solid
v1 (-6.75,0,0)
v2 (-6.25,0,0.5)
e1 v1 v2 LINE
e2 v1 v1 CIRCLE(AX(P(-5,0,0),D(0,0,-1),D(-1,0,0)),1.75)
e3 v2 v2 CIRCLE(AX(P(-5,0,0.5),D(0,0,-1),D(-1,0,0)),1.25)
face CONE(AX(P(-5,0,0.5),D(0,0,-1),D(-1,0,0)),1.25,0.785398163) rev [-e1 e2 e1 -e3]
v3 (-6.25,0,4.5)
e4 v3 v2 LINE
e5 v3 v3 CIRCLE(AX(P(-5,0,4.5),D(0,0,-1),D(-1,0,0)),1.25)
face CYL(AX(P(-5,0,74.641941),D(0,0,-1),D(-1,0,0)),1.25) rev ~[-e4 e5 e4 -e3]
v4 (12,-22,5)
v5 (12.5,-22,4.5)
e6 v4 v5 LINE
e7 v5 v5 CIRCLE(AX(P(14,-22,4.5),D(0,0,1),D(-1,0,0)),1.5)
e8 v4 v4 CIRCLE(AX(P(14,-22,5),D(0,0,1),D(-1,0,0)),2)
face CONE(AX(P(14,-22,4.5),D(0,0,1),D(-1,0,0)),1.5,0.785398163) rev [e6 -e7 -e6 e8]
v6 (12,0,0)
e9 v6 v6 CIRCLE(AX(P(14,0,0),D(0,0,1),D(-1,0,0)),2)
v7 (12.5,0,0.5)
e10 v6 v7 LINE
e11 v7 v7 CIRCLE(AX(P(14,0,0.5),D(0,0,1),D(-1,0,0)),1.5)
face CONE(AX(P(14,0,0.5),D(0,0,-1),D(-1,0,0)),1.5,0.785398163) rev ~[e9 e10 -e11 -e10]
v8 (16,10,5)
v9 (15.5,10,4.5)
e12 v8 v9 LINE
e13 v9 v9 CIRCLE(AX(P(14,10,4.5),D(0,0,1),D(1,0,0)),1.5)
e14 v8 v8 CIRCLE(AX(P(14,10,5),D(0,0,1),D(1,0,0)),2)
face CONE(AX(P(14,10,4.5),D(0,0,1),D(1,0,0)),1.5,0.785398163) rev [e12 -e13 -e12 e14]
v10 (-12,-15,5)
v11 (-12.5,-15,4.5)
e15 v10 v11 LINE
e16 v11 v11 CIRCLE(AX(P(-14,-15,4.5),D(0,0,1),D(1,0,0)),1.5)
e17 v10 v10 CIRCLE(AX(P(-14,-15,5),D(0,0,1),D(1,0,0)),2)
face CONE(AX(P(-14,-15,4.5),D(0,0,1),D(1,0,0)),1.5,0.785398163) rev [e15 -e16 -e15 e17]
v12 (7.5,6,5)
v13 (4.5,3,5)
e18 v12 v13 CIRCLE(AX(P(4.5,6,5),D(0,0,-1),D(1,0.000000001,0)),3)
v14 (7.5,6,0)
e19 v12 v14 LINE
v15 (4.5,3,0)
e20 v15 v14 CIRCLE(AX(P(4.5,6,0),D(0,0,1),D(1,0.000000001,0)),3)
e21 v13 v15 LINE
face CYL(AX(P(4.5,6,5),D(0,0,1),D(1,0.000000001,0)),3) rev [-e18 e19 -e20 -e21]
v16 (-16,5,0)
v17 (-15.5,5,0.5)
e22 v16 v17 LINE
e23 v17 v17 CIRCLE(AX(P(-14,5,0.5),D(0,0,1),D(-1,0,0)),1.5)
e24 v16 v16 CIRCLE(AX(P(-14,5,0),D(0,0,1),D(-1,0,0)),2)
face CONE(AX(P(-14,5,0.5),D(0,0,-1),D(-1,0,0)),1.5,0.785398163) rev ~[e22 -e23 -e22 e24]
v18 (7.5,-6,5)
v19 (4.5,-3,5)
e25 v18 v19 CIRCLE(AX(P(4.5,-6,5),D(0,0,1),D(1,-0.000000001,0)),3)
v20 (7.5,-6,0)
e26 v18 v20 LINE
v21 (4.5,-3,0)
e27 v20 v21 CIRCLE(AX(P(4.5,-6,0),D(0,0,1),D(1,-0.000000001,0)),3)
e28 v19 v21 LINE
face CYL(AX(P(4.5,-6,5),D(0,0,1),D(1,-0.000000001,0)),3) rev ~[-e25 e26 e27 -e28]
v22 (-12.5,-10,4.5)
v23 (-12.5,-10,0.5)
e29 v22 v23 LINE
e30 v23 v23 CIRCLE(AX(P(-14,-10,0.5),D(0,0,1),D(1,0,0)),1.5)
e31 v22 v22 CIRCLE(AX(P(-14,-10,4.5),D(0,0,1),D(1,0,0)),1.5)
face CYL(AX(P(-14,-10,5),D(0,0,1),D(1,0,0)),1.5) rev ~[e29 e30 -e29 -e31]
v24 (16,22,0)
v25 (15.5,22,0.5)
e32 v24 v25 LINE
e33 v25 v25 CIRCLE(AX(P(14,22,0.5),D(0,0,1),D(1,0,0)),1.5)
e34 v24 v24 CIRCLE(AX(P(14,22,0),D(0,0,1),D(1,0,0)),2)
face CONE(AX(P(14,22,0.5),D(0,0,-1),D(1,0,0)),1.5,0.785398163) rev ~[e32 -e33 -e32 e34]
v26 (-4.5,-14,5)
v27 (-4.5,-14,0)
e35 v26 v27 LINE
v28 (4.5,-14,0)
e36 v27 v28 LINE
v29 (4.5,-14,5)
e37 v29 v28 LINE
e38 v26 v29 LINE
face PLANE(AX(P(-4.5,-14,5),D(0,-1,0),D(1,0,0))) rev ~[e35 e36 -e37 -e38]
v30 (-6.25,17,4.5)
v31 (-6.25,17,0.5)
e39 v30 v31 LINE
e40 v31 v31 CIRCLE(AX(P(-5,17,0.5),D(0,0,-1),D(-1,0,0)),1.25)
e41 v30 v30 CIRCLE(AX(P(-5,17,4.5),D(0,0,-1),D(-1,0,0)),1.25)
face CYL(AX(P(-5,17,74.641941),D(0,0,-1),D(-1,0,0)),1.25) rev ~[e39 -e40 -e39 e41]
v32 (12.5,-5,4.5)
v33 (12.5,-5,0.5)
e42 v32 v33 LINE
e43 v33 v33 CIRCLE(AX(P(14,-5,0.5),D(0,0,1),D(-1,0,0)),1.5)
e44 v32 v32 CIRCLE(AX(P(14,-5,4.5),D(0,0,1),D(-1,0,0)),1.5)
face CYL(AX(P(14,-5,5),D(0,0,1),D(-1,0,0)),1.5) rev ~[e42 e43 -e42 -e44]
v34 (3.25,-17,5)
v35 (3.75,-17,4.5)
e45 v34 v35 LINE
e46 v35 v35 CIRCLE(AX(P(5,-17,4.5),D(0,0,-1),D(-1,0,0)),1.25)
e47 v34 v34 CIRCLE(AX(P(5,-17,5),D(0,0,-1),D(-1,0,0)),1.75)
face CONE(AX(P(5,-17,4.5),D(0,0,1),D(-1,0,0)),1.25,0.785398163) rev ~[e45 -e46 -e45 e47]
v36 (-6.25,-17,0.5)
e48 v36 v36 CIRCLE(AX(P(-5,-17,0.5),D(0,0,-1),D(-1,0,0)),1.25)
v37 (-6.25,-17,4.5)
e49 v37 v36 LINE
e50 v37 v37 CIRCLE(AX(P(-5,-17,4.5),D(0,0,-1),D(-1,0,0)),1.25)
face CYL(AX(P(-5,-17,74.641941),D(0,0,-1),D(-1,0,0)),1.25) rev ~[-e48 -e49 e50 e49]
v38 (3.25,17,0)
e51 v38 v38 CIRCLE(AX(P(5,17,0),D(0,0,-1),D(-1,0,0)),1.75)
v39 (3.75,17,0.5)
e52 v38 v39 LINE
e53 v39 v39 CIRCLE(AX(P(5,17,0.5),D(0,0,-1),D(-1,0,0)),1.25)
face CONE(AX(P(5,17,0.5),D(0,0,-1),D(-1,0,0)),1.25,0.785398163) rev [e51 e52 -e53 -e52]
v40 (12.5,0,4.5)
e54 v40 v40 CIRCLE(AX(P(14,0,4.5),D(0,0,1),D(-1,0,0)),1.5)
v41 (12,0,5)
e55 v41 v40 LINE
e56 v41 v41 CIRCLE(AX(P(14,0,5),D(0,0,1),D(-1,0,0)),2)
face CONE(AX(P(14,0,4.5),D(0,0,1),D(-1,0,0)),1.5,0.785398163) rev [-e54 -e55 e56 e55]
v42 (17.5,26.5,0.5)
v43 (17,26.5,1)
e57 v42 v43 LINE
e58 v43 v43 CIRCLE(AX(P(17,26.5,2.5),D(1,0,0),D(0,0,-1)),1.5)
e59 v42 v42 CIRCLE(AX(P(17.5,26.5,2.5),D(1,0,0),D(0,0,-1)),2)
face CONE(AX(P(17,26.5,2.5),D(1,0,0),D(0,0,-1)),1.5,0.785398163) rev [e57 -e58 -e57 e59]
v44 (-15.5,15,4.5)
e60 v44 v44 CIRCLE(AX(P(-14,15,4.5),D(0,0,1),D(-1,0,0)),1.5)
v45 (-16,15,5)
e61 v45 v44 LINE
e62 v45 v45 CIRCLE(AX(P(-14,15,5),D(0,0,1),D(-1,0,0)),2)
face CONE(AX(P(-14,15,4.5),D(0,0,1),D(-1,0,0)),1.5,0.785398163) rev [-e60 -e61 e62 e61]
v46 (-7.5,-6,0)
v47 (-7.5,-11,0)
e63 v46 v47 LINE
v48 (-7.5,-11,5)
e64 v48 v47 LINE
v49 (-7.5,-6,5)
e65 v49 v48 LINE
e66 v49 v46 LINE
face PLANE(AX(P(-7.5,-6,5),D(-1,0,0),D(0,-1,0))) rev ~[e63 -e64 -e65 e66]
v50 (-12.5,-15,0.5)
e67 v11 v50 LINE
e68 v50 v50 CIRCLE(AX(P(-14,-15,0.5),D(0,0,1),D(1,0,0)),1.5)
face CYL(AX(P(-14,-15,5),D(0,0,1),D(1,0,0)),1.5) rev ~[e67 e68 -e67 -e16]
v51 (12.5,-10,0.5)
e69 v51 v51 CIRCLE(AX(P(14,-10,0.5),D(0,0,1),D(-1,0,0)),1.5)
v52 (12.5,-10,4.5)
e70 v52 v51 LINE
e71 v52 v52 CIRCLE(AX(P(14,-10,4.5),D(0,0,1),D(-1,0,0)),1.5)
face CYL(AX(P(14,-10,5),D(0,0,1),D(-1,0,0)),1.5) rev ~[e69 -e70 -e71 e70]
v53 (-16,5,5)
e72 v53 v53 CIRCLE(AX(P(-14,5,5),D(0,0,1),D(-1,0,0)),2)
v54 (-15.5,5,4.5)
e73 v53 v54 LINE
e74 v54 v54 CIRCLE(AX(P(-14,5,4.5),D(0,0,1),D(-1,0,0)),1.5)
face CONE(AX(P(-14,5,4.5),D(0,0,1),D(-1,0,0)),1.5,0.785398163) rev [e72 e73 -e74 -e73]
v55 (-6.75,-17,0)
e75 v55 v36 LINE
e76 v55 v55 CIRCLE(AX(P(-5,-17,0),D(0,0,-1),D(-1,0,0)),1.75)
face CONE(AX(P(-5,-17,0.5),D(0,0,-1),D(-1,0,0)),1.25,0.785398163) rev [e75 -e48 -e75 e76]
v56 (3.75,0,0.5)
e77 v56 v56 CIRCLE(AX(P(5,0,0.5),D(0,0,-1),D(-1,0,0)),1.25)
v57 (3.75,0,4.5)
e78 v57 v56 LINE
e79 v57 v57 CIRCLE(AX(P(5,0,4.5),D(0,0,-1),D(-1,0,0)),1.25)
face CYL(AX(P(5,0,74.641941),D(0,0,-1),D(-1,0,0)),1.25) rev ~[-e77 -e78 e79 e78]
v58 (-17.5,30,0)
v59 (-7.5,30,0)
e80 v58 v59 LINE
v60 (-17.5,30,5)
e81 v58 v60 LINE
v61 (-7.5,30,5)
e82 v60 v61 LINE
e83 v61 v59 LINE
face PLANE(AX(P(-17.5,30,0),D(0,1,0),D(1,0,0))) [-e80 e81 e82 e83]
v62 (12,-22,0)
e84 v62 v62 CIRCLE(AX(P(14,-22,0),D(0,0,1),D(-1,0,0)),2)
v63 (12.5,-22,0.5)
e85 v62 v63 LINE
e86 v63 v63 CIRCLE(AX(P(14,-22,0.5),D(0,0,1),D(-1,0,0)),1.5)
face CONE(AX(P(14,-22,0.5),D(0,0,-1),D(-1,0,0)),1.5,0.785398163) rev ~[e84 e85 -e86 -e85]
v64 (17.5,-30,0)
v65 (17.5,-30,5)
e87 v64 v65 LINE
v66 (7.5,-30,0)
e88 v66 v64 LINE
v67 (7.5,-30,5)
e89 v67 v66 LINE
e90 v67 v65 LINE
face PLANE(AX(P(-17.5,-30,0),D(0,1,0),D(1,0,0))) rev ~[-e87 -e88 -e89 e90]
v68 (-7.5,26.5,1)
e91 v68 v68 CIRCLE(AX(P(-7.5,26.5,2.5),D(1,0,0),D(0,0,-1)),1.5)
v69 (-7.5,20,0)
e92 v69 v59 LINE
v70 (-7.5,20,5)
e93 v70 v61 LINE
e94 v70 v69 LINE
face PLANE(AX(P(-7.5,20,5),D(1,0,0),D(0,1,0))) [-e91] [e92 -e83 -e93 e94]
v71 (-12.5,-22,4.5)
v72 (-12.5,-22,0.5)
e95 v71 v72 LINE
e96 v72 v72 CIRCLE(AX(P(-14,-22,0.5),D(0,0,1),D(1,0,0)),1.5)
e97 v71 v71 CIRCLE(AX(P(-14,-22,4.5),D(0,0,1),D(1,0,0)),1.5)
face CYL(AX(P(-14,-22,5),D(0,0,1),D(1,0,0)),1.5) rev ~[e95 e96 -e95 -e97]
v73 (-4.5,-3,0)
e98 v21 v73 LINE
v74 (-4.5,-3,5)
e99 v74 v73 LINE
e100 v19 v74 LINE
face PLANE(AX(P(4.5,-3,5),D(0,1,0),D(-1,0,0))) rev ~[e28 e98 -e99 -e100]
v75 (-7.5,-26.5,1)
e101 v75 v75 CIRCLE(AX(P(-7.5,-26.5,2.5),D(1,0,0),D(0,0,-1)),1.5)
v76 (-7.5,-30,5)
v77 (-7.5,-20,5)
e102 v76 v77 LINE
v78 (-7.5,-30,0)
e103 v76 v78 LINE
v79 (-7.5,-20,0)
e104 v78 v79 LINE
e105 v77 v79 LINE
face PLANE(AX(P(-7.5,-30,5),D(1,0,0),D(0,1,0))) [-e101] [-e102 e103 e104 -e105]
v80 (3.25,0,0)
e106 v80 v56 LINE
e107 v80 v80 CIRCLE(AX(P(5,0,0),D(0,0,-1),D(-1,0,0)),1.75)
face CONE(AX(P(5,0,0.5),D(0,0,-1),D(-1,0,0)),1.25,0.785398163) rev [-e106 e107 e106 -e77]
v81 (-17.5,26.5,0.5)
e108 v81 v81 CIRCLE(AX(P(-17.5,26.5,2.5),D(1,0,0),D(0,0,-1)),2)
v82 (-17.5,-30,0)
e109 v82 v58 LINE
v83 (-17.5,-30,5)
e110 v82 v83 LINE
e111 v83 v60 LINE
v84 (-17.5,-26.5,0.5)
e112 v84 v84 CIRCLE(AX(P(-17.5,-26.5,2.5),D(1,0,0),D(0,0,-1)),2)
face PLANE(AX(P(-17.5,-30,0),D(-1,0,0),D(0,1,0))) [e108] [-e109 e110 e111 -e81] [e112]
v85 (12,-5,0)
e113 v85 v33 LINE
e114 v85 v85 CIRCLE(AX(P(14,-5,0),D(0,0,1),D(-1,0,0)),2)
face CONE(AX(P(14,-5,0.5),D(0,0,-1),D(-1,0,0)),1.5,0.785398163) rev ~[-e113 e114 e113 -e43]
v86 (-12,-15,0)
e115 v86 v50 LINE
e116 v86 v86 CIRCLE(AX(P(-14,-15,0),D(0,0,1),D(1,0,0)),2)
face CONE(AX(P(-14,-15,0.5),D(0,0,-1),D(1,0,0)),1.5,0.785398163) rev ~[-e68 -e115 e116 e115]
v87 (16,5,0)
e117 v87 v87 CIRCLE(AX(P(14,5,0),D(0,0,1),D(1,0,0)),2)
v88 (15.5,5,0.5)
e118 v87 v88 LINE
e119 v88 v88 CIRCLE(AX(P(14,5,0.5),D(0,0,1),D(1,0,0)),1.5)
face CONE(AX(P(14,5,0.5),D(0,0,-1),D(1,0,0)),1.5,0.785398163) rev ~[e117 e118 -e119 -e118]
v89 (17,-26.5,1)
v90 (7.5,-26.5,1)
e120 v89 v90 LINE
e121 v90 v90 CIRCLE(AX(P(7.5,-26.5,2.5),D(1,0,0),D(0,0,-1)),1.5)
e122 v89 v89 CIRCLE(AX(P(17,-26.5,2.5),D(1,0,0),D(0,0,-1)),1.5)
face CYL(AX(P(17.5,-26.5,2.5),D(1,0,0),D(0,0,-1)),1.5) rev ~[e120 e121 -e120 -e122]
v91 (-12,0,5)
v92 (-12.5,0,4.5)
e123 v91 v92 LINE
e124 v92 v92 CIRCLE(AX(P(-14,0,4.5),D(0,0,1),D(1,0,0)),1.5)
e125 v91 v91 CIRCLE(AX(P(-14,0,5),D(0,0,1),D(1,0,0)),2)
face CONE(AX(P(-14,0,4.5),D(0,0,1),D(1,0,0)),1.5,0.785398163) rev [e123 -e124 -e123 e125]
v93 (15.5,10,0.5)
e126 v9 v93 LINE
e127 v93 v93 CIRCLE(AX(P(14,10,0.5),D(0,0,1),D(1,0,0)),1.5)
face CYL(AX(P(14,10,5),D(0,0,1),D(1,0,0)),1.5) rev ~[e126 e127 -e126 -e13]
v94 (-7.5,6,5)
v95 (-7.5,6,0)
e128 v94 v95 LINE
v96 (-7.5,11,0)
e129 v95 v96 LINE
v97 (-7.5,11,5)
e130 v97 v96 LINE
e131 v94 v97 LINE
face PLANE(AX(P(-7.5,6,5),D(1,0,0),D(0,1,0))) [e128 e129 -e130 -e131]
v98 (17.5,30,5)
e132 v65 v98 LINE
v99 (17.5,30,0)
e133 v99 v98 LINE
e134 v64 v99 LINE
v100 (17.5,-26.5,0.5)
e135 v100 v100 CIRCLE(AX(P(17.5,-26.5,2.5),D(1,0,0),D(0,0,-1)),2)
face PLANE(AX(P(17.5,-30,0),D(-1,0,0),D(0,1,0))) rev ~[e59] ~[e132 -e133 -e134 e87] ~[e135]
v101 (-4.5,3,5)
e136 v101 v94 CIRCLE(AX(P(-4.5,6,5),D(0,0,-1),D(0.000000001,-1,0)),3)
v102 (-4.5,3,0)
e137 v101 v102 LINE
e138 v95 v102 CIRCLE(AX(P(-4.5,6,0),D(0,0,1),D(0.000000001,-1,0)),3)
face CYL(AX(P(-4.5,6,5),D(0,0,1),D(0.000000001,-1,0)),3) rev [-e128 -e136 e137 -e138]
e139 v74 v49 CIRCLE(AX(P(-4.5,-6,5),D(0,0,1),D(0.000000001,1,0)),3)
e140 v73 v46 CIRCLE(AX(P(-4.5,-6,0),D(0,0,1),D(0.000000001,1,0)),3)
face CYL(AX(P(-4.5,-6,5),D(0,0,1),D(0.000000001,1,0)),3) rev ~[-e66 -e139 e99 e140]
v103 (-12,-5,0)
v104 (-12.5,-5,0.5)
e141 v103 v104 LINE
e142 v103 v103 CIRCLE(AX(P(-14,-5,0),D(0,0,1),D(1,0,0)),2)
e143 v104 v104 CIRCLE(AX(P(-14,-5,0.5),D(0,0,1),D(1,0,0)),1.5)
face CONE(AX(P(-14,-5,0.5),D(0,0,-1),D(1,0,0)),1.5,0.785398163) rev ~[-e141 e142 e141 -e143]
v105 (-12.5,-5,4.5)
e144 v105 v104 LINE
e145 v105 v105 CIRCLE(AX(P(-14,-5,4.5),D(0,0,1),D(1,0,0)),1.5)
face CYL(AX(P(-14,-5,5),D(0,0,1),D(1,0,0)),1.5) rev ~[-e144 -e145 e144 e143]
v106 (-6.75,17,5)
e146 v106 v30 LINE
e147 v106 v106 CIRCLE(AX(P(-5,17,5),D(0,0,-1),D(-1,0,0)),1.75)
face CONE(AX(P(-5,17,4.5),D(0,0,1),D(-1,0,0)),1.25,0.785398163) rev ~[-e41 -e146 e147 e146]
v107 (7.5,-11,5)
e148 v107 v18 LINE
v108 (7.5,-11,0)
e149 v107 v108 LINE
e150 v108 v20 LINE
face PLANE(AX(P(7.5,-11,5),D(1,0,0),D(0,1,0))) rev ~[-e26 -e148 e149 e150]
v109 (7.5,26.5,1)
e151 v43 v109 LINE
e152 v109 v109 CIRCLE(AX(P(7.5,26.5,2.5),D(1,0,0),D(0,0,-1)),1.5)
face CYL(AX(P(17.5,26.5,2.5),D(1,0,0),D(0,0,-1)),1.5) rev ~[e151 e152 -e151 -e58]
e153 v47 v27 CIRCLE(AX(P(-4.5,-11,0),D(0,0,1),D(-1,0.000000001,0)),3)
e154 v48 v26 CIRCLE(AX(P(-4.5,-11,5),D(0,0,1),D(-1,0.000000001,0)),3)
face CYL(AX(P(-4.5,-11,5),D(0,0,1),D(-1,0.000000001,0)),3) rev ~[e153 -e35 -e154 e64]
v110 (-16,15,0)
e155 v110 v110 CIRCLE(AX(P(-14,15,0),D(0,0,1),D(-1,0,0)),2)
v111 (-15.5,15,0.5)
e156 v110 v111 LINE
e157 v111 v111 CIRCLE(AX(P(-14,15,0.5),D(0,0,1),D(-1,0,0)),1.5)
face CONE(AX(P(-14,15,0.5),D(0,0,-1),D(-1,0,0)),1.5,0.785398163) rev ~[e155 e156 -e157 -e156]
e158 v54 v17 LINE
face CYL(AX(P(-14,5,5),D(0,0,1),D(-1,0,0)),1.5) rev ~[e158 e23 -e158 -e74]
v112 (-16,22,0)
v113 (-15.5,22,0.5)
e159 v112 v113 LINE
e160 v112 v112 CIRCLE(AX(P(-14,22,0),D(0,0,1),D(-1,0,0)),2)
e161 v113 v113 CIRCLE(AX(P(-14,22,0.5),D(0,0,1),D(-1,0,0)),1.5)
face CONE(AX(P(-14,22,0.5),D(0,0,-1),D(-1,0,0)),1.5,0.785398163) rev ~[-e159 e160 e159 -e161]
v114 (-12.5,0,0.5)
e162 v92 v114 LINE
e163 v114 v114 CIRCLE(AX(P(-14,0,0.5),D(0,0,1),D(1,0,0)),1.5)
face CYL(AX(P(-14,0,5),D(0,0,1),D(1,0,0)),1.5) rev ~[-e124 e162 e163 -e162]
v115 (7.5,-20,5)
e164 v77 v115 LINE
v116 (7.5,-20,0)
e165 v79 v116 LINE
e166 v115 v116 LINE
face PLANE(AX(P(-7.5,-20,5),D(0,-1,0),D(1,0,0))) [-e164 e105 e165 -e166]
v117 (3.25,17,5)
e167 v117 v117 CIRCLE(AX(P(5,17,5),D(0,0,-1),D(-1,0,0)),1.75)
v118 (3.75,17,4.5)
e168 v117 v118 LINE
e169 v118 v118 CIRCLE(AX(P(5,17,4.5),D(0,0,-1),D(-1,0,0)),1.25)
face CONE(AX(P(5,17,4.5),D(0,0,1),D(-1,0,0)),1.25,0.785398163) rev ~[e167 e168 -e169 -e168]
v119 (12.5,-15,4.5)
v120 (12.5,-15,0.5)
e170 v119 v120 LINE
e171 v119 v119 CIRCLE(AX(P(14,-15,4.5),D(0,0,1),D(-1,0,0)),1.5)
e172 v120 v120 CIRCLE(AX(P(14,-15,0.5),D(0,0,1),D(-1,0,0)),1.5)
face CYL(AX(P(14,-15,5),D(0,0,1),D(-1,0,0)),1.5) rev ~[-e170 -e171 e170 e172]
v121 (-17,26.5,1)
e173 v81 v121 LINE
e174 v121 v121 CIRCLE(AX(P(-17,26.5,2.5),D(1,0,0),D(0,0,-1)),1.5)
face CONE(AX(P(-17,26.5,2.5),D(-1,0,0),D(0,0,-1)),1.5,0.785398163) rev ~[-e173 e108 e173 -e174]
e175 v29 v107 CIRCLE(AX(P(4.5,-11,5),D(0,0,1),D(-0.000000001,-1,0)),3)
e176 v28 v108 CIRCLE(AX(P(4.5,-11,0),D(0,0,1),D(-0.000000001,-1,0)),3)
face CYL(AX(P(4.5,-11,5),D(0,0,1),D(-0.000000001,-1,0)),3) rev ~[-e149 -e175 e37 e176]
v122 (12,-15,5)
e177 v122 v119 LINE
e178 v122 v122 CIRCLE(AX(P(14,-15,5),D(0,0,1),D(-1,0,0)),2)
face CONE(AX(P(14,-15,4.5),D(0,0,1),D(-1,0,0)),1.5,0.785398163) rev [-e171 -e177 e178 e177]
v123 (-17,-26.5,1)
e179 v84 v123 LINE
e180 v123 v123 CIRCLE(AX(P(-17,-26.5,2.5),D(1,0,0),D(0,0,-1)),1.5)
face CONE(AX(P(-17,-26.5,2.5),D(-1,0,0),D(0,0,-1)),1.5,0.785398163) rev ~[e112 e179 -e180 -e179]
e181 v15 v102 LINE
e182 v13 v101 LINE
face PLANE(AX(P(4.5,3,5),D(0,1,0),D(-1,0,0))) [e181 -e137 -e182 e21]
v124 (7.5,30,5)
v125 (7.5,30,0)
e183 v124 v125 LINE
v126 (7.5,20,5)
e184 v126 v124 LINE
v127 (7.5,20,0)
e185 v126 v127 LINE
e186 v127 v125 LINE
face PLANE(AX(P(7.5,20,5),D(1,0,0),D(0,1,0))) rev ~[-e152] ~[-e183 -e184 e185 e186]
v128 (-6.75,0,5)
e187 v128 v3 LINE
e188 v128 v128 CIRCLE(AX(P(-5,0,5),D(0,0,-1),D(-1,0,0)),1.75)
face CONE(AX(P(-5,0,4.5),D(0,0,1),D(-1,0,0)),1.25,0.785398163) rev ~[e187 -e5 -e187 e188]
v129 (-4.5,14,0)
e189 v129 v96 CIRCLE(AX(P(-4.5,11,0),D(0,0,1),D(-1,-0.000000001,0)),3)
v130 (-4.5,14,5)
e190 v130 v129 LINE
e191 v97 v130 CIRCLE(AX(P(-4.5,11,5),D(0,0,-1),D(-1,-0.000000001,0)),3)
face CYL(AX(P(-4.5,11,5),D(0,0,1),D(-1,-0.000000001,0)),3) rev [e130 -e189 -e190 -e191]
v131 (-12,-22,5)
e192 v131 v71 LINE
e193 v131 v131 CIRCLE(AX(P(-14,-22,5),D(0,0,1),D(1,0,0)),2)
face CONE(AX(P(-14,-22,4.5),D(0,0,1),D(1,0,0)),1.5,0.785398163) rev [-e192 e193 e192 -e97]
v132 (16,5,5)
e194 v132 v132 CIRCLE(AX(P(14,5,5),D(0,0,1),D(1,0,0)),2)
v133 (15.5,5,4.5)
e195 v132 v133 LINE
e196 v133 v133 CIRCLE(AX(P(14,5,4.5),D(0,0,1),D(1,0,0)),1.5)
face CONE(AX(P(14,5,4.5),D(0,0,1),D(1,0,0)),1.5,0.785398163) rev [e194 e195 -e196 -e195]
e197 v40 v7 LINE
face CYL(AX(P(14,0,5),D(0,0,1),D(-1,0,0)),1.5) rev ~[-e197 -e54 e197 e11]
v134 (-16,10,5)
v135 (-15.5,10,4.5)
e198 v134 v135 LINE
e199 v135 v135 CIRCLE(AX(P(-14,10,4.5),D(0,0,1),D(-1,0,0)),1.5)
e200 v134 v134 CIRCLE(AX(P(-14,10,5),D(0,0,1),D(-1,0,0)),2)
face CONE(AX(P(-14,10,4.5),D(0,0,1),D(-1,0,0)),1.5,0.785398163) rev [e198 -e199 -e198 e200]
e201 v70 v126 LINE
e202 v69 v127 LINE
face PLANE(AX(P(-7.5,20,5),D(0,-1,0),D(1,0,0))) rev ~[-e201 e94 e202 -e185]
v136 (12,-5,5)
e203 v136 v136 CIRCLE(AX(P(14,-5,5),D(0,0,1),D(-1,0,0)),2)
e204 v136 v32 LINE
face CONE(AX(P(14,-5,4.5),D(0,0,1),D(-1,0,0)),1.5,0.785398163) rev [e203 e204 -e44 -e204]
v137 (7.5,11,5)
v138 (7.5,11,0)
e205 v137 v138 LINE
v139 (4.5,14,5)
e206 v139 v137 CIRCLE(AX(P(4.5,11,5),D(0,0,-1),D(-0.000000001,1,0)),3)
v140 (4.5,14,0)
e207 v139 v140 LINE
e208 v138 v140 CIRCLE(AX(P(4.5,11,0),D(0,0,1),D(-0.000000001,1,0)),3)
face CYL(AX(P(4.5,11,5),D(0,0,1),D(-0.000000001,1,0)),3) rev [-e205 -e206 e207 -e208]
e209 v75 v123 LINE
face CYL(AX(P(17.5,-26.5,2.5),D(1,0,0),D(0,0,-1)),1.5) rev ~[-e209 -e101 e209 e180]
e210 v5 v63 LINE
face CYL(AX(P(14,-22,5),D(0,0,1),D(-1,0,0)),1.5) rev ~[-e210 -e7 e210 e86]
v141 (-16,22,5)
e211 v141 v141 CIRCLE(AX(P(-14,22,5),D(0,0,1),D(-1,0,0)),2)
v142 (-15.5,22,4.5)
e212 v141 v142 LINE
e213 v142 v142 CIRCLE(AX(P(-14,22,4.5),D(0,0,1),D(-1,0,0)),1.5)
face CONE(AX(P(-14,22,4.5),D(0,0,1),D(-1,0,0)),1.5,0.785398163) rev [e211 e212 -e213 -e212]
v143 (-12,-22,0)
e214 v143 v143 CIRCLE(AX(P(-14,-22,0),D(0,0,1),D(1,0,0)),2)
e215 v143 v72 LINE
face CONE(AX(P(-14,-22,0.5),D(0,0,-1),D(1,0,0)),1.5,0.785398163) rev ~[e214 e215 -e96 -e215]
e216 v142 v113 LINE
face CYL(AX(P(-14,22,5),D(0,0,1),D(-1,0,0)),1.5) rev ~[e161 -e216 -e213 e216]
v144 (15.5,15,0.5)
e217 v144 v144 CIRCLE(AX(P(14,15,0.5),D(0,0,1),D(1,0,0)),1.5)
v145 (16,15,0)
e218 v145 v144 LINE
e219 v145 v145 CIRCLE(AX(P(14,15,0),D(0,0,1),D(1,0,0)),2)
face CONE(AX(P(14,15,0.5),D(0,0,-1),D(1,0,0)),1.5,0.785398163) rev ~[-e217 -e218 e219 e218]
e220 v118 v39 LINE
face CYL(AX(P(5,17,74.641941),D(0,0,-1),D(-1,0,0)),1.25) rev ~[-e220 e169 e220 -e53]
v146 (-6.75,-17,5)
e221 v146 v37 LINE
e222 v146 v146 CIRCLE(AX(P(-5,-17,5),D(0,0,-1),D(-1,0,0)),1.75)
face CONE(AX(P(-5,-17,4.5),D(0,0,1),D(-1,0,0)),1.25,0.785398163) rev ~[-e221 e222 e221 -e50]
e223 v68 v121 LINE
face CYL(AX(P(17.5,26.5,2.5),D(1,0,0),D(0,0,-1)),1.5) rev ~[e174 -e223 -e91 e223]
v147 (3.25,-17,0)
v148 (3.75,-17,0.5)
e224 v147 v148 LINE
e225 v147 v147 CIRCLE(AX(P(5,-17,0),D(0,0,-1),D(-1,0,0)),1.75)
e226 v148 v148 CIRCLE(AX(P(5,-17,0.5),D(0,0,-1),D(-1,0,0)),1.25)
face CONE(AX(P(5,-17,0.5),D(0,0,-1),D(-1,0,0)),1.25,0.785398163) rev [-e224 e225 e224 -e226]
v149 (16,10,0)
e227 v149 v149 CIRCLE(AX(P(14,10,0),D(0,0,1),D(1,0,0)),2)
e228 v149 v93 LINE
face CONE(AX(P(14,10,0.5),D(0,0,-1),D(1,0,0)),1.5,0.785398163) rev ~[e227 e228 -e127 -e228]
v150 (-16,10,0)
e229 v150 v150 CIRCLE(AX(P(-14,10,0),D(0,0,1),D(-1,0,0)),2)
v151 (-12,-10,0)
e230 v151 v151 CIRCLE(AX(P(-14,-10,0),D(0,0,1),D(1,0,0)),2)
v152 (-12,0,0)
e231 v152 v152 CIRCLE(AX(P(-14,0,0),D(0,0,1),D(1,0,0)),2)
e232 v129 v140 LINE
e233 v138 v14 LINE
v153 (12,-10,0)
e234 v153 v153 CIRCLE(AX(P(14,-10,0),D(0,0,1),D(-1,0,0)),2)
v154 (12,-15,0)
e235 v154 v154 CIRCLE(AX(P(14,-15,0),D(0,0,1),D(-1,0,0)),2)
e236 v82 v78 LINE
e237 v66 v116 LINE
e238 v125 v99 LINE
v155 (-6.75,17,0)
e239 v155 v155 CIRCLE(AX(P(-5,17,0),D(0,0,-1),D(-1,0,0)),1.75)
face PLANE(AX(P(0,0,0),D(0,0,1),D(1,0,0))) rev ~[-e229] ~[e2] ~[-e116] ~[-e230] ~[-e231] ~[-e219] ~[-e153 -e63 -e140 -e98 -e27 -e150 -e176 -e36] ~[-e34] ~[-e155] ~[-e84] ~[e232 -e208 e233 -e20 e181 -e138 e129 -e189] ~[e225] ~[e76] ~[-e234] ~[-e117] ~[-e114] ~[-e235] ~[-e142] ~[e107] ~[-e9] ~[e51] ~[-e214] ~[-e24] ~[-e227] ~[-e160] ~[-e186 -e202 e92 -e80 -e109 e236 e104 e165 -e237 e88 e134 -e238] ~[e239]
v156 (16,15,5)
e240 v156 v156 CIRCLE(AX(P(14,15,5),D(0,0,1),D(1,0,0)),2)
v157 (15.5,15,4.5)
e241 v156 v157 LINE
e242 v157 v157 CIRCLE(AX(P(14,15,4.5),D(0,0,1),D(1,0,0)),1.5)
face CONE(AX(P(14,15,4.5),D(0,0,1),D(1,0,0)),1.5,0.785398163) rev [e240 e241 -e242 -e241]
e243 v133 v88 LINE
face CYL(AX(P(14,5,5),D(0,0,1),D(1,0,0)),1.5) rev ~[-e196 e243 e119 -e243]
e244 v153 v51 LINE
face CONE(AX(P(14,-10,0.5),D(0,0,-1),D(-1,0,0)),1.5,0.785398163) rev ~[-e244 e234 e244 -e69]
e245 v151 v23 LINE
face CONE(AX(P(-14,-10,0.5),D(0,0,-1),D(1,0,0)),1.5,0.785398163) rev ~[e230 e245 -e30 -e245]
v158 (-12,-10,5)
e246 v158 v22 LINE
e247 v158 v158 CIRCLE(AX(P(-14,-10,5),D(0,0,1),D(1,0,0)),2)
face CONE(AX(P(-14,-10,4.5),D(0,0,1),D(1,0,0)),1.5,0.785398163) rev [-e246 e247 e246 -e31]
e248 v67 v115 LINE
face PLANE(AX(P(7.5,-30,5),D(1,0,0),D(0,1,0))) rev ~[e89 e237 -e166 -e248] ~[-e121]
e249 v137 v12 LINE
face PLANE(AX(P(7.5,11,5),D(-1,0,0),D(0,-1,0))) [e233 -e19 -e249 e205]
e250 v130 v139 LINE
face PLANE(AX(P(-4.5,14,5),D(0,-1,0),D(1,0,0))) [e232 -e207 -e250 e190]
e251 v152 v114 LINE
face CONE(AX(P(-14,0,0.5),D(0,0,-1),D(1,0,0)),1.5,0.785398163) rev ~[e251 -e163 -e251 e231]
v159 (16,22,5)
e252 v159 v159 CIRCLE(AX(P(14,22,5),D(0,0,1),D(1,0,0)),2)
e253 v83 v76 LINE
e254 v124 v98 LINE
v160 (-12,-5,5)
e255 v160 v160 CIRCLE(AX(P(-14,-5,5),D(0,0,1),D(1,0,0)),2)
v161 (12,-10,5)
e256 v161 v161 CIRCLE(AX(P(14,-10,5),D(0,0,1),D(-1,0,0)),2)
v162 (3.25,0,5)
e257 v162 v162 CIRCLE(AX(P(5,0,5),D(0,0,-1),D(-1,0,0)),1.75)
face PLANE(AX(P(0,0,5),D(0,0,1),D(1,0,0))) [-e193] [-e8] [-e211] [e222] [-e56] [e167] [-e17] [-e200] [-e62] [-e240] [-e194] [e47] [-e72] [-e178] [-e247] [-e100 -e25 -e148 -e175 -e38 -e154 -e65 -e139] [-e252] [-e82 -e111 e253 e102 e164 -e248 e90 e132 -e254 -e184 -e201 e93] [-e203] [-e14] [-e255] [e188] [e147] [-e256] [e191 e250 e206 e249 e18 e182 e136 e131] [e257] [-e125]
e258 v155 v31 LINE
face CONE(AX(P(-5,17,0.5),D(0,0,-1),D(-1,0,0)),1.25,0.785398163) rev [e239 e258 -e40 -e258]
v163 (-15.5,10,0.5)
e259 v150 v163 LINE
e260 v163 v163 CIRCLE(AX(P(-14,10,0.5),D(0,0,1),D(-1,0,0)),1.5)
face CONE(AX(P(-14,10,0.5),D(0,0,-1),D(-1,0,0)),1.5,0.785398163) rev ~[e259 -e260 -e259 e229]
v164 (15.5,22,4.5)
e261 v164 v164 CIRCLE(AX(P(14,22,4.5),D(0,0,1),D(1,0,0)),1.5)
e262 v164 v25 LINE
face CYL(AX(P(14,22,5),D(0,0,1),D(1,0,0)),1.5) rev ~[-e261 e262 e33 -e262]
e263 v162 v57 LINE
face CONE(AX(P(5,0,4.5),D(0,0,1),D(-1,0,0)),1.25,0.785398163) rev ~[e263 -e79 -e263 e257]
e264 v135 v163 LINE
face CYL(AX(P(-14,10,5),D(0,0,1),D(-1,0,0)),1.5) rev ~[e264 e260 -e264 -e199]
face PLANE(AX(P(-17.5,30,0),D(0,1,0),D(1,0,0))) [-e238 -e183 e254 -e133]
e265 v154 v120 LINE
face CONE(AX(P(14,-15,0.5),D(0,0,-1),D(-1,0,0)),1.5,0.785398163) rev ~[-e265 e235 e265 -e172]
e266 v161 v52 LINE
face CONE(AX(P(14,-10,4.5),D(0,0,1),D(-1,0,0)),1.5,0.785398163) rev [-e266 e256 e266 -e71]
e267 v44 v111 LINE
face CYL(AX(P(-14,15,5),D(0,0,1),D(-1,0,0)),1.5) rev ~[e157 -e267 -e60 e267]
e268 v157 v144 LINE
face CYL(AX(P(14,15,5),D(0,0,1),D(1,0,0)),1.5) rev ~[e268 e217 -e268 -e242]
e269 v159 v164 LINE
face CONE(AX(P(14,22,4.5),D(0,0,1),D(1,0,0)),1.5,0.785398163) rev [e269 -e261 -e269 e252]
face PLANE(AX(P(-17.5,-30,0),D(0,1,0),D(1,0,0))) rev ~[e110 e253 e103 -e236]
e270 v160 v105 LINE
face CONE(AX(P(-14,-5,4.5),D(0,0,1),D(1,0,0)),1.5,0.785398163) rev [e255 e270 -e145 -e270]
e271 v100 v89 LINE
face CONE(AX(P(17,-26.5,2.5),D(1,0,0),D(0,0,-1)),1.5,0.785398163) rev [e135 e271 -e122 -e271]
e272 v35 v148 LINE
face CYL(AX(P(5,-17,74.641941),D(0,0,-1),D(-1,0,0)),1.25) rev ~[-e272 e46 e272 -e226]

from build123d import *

# Parameters (mm, degrees)
SKETCH_1_W          = 35
SKETCH_1_H          = 60
EXTRUDE_1_DEPTH     = 5
SKETCH_2_R          = 1.5
SKETCH_2_R_2        = 0.5
SKETCH_2_W          = 15
SKETCH_2_H          = 10
CUT_EXTRUDE_1_DEPTH = 36.089172119
SKETCH_3_R          = 1.5
CUT_EXTRUDE_2_DEPTH = 47.368092477
HOLE_WIZARD_M3_1_D  = 2.5
CHAMFER_1_SIZE      = 0.5


with BuildPart() as part:
    # 草图1 → 凸台-拉伸1 (new body)
    with BuildSketch(Plane.XY):
        Rectangle(SKETCH_1_W, SKETCH_1_H)
    extrude(amount=EXTRUDE_1_DEPTH)

    # 草图2 → 切除-拉伸1 (cut, through all)
    with BuildSketch(Plane.XY.offset(5)):
        with Locations((-14, 0)):
            Circle(SKETCH_2_R)
        with Locations((-14, -15)):
            Circle(SKETCH_2_R)
        with Locations(Location((14, -15, 0), (0, 0, 180))):
            Circle(SKETCH_2_R)
        with Locations(Location((14, 0, 0), (0, 0, 180))):
            Circle(SKETCH_2_R)
        with Locations((-14, -10)):
            Circle(SKETCH_2_R)
        with Locations((-14, -22)):
            Circle(SKETCH_2_R)
        with Locations(Location((14, -22, 0), (0, 0, 180))):
            Circle(SKETCH_2_R)
        with Locations(Location((14, -10, 0), (0, 0, 180))):
            Circle(SKETCH_2_R)
        with Locations(Location((-14, 22, 0), (0, 0, 180))):
            Circle(SKETCH_2_R)
        with Locations((14, 22)):
            Circle(SKETCH_2_R)
        with Locations((14, 10)):
            Circle(SKETCH_2_R)
        with Locations(Location((-14, 10, 0), (0, 0, 180))):
            Circle(SKETCH_2_R)
        with Locations((14, 15)):
            Circle(SKETCH_2_R)
        with Locations(Location((-14, 15, 0), (0, 0, 180))):
            Circle(SKETCH_2_R)
        with Locations((-5, 0)):
            Circle(SKETCH_2_R_2)
        with Locations((5, 0)):
            Circle(SKETCH_2_R_2)
        with Locations((-14, -5)):
            Circle(SKETCH_2_R)
        with Locations(Location((14, -5, 0), (0, 0, 180))):
            Circle(SKETCH_2_R)
        with Locations((14, 5)):
            Circle(SKETCH_2_R)
        with Locations(Location((-14, 5, 0), (0, 0, 180))):
            Circle(SKETCH_2_R)
        with Locations((-5, 17)):
            Circle(SKETCH_2_R_2)
        with Locations((5, 17)):
            Circle(SKETCH_2_R_2)
        with Locations(Location((5, -17, 0), (0, 0, 180))):
            Circle(SKETCH_2_R_2)
        with Locations(Location((-5, -17, 0), (0, 0, 180))):
            Circle(SKETCH_2_R_2)
        with Locations((0, 25)):
            Rectangle(SKETCH_2_W, SKETCH_2_H)
        with Locations((0, -25)):
            Rectangle(SKETCH_2_W, SKETCH_2_H)
        with BuildLine():
            Line((7.5, 11), (7.5, 6))
            ThreePointArc((7.5, 6), (6.621320344, 3.878679656), (4.5, 3))
            Line((4.5, 3), (-4.5, 3))
            ThreePointArc((-4.5, 3), (-6.621320344, 3.878679656), (-7.5, 6))
            Line((-7.5, 6), (-7.5, 11))
            ThreePointArc((-7.5, 11), (-6.621320344, 13.121320344), (-4.5, 14))
            Line((-4.5, 14), (4.5, 14))
            ThreePointArc((4.5, 14), (6.621320344, 13.121320344), (7.5, 11))
        make_face()
        with BuildLine():
            Line((-4.5, -14), (4.5, -14))
            ThreePointArc((4.5, -14), (6.621320344, -13.121320344), (7.5, -11))
            Line((7.5, -11), (7.5, -6))
            ThreePointArc((7.5, -6), (6.621320344, -3.878679656), (4.5, -3))
            Line((4.5, -3), (-4.5, -3))
            ThreePointArc((-4.5, -3), (-6.621320344, -3.878679656), (-7.5, -6))
            Line((-7.5, -6), (-7.5, -11))
            ThreePointArc((-7.5, -11), (-6.621320344, -13.121320344), (-4.5, -14))
        make_face()
    extrude(amount=-CUT_EXTRUDE_1_DEPTH, mode=Mode.SUBTRACT)

    # 草图3 → 切除-拉伸2 (cut, through all)
    with BuildSketch(Plane(origin=(17.5, 0, 0), x_dir=(0, 0, -1), z_dir=(1, 0, 0))):
        with Locations((-2.5, -26.5)):
            Circle(SKETCH_3_R)
        with Locations((-2.5, 26.5)):
            Circle(SKETCH_3_R)
    extrude(amount=-CUT_EXTRUDE_2_DEPTH, mode=Mode.SUBTRACT)

    # M3 螺纹孔1 (through all)
    with Locations(Plane.XY.offset(5)):
        with Locations((-5, 17), (5, 17), (-5, 0), (5, 0), (-5, -17), (5, -17)):
            Hole(HOLE_WIZARD_M3_1_D / 2)

    # 倒角1
    chamfer_1_edges = [part.edges().sort_by_distance(p)[0] for p in [
        (-15.5, -5, 0),
        (-15.5, -5, 5),
        (15.5, -5, 0),
        (15.5, -5, 5),
        (12.5, 5, 0),
        (12.5, 5, 5),
        (-12.5, 5, 0),
        (-12.5, 5, 5),
        (-17.5, -26.5, 4),
        (17.5, -26.5, 4),
        (-17.5, 26.5, 4),
        (17.5, 26.5, 4),
        (6.25, -17, 5),
        (6.25, -17, 0),
        (-3.75, -17, 5),
        (-3.75, -17, 0),
        (6.25, 0, 5),
        (6.25, 0, 0),
        (-3.75, 0, 5),
        (-3.75, 0, 0),
        (6.25, 17, 5),
        (6.25, 17, 0),
        (-3.75, 17, 5),
        (-3.75, 17, 0),
        (-15.5, 0, 0),
        (-15.5, 0, 5),
        (-15.5, -15, 0),
        (-15.5, -15, 5),
        (15.5, -15, 0),
        (15.5, -15, 5),
        (15.5, 0, 0),
        (15.5, 0, 5),
        (-15.5, -10, 0),
        (-15.5, -10, 5),
        (-15.5, -22, 0),
        (-15.5, -22, 5),
        (15.5, -22, 0),
        (15.5, -22, 5),
        (15.5, -10, 0),
        (15.5, -10, 5),
        (-12.5, 22, 0),
        (-12.5, 22, 5),
        (12.5, 22, 0),
        (12.5, 22, 5),
        (12.5, 10, 0),
        (12.5, 10, 5),
        (-12.5, 10, 0),
        (-12.5, 10, 5),
        (12.5, 15, 0),
        (12.5, 15, 5),
        (-12.5, 15, 0),
        (-12.5, 15, 5),
    ]]
    chamfer(chamfer_1_edges, length=CHAMFER_1_SIZE)


solid = part.part
